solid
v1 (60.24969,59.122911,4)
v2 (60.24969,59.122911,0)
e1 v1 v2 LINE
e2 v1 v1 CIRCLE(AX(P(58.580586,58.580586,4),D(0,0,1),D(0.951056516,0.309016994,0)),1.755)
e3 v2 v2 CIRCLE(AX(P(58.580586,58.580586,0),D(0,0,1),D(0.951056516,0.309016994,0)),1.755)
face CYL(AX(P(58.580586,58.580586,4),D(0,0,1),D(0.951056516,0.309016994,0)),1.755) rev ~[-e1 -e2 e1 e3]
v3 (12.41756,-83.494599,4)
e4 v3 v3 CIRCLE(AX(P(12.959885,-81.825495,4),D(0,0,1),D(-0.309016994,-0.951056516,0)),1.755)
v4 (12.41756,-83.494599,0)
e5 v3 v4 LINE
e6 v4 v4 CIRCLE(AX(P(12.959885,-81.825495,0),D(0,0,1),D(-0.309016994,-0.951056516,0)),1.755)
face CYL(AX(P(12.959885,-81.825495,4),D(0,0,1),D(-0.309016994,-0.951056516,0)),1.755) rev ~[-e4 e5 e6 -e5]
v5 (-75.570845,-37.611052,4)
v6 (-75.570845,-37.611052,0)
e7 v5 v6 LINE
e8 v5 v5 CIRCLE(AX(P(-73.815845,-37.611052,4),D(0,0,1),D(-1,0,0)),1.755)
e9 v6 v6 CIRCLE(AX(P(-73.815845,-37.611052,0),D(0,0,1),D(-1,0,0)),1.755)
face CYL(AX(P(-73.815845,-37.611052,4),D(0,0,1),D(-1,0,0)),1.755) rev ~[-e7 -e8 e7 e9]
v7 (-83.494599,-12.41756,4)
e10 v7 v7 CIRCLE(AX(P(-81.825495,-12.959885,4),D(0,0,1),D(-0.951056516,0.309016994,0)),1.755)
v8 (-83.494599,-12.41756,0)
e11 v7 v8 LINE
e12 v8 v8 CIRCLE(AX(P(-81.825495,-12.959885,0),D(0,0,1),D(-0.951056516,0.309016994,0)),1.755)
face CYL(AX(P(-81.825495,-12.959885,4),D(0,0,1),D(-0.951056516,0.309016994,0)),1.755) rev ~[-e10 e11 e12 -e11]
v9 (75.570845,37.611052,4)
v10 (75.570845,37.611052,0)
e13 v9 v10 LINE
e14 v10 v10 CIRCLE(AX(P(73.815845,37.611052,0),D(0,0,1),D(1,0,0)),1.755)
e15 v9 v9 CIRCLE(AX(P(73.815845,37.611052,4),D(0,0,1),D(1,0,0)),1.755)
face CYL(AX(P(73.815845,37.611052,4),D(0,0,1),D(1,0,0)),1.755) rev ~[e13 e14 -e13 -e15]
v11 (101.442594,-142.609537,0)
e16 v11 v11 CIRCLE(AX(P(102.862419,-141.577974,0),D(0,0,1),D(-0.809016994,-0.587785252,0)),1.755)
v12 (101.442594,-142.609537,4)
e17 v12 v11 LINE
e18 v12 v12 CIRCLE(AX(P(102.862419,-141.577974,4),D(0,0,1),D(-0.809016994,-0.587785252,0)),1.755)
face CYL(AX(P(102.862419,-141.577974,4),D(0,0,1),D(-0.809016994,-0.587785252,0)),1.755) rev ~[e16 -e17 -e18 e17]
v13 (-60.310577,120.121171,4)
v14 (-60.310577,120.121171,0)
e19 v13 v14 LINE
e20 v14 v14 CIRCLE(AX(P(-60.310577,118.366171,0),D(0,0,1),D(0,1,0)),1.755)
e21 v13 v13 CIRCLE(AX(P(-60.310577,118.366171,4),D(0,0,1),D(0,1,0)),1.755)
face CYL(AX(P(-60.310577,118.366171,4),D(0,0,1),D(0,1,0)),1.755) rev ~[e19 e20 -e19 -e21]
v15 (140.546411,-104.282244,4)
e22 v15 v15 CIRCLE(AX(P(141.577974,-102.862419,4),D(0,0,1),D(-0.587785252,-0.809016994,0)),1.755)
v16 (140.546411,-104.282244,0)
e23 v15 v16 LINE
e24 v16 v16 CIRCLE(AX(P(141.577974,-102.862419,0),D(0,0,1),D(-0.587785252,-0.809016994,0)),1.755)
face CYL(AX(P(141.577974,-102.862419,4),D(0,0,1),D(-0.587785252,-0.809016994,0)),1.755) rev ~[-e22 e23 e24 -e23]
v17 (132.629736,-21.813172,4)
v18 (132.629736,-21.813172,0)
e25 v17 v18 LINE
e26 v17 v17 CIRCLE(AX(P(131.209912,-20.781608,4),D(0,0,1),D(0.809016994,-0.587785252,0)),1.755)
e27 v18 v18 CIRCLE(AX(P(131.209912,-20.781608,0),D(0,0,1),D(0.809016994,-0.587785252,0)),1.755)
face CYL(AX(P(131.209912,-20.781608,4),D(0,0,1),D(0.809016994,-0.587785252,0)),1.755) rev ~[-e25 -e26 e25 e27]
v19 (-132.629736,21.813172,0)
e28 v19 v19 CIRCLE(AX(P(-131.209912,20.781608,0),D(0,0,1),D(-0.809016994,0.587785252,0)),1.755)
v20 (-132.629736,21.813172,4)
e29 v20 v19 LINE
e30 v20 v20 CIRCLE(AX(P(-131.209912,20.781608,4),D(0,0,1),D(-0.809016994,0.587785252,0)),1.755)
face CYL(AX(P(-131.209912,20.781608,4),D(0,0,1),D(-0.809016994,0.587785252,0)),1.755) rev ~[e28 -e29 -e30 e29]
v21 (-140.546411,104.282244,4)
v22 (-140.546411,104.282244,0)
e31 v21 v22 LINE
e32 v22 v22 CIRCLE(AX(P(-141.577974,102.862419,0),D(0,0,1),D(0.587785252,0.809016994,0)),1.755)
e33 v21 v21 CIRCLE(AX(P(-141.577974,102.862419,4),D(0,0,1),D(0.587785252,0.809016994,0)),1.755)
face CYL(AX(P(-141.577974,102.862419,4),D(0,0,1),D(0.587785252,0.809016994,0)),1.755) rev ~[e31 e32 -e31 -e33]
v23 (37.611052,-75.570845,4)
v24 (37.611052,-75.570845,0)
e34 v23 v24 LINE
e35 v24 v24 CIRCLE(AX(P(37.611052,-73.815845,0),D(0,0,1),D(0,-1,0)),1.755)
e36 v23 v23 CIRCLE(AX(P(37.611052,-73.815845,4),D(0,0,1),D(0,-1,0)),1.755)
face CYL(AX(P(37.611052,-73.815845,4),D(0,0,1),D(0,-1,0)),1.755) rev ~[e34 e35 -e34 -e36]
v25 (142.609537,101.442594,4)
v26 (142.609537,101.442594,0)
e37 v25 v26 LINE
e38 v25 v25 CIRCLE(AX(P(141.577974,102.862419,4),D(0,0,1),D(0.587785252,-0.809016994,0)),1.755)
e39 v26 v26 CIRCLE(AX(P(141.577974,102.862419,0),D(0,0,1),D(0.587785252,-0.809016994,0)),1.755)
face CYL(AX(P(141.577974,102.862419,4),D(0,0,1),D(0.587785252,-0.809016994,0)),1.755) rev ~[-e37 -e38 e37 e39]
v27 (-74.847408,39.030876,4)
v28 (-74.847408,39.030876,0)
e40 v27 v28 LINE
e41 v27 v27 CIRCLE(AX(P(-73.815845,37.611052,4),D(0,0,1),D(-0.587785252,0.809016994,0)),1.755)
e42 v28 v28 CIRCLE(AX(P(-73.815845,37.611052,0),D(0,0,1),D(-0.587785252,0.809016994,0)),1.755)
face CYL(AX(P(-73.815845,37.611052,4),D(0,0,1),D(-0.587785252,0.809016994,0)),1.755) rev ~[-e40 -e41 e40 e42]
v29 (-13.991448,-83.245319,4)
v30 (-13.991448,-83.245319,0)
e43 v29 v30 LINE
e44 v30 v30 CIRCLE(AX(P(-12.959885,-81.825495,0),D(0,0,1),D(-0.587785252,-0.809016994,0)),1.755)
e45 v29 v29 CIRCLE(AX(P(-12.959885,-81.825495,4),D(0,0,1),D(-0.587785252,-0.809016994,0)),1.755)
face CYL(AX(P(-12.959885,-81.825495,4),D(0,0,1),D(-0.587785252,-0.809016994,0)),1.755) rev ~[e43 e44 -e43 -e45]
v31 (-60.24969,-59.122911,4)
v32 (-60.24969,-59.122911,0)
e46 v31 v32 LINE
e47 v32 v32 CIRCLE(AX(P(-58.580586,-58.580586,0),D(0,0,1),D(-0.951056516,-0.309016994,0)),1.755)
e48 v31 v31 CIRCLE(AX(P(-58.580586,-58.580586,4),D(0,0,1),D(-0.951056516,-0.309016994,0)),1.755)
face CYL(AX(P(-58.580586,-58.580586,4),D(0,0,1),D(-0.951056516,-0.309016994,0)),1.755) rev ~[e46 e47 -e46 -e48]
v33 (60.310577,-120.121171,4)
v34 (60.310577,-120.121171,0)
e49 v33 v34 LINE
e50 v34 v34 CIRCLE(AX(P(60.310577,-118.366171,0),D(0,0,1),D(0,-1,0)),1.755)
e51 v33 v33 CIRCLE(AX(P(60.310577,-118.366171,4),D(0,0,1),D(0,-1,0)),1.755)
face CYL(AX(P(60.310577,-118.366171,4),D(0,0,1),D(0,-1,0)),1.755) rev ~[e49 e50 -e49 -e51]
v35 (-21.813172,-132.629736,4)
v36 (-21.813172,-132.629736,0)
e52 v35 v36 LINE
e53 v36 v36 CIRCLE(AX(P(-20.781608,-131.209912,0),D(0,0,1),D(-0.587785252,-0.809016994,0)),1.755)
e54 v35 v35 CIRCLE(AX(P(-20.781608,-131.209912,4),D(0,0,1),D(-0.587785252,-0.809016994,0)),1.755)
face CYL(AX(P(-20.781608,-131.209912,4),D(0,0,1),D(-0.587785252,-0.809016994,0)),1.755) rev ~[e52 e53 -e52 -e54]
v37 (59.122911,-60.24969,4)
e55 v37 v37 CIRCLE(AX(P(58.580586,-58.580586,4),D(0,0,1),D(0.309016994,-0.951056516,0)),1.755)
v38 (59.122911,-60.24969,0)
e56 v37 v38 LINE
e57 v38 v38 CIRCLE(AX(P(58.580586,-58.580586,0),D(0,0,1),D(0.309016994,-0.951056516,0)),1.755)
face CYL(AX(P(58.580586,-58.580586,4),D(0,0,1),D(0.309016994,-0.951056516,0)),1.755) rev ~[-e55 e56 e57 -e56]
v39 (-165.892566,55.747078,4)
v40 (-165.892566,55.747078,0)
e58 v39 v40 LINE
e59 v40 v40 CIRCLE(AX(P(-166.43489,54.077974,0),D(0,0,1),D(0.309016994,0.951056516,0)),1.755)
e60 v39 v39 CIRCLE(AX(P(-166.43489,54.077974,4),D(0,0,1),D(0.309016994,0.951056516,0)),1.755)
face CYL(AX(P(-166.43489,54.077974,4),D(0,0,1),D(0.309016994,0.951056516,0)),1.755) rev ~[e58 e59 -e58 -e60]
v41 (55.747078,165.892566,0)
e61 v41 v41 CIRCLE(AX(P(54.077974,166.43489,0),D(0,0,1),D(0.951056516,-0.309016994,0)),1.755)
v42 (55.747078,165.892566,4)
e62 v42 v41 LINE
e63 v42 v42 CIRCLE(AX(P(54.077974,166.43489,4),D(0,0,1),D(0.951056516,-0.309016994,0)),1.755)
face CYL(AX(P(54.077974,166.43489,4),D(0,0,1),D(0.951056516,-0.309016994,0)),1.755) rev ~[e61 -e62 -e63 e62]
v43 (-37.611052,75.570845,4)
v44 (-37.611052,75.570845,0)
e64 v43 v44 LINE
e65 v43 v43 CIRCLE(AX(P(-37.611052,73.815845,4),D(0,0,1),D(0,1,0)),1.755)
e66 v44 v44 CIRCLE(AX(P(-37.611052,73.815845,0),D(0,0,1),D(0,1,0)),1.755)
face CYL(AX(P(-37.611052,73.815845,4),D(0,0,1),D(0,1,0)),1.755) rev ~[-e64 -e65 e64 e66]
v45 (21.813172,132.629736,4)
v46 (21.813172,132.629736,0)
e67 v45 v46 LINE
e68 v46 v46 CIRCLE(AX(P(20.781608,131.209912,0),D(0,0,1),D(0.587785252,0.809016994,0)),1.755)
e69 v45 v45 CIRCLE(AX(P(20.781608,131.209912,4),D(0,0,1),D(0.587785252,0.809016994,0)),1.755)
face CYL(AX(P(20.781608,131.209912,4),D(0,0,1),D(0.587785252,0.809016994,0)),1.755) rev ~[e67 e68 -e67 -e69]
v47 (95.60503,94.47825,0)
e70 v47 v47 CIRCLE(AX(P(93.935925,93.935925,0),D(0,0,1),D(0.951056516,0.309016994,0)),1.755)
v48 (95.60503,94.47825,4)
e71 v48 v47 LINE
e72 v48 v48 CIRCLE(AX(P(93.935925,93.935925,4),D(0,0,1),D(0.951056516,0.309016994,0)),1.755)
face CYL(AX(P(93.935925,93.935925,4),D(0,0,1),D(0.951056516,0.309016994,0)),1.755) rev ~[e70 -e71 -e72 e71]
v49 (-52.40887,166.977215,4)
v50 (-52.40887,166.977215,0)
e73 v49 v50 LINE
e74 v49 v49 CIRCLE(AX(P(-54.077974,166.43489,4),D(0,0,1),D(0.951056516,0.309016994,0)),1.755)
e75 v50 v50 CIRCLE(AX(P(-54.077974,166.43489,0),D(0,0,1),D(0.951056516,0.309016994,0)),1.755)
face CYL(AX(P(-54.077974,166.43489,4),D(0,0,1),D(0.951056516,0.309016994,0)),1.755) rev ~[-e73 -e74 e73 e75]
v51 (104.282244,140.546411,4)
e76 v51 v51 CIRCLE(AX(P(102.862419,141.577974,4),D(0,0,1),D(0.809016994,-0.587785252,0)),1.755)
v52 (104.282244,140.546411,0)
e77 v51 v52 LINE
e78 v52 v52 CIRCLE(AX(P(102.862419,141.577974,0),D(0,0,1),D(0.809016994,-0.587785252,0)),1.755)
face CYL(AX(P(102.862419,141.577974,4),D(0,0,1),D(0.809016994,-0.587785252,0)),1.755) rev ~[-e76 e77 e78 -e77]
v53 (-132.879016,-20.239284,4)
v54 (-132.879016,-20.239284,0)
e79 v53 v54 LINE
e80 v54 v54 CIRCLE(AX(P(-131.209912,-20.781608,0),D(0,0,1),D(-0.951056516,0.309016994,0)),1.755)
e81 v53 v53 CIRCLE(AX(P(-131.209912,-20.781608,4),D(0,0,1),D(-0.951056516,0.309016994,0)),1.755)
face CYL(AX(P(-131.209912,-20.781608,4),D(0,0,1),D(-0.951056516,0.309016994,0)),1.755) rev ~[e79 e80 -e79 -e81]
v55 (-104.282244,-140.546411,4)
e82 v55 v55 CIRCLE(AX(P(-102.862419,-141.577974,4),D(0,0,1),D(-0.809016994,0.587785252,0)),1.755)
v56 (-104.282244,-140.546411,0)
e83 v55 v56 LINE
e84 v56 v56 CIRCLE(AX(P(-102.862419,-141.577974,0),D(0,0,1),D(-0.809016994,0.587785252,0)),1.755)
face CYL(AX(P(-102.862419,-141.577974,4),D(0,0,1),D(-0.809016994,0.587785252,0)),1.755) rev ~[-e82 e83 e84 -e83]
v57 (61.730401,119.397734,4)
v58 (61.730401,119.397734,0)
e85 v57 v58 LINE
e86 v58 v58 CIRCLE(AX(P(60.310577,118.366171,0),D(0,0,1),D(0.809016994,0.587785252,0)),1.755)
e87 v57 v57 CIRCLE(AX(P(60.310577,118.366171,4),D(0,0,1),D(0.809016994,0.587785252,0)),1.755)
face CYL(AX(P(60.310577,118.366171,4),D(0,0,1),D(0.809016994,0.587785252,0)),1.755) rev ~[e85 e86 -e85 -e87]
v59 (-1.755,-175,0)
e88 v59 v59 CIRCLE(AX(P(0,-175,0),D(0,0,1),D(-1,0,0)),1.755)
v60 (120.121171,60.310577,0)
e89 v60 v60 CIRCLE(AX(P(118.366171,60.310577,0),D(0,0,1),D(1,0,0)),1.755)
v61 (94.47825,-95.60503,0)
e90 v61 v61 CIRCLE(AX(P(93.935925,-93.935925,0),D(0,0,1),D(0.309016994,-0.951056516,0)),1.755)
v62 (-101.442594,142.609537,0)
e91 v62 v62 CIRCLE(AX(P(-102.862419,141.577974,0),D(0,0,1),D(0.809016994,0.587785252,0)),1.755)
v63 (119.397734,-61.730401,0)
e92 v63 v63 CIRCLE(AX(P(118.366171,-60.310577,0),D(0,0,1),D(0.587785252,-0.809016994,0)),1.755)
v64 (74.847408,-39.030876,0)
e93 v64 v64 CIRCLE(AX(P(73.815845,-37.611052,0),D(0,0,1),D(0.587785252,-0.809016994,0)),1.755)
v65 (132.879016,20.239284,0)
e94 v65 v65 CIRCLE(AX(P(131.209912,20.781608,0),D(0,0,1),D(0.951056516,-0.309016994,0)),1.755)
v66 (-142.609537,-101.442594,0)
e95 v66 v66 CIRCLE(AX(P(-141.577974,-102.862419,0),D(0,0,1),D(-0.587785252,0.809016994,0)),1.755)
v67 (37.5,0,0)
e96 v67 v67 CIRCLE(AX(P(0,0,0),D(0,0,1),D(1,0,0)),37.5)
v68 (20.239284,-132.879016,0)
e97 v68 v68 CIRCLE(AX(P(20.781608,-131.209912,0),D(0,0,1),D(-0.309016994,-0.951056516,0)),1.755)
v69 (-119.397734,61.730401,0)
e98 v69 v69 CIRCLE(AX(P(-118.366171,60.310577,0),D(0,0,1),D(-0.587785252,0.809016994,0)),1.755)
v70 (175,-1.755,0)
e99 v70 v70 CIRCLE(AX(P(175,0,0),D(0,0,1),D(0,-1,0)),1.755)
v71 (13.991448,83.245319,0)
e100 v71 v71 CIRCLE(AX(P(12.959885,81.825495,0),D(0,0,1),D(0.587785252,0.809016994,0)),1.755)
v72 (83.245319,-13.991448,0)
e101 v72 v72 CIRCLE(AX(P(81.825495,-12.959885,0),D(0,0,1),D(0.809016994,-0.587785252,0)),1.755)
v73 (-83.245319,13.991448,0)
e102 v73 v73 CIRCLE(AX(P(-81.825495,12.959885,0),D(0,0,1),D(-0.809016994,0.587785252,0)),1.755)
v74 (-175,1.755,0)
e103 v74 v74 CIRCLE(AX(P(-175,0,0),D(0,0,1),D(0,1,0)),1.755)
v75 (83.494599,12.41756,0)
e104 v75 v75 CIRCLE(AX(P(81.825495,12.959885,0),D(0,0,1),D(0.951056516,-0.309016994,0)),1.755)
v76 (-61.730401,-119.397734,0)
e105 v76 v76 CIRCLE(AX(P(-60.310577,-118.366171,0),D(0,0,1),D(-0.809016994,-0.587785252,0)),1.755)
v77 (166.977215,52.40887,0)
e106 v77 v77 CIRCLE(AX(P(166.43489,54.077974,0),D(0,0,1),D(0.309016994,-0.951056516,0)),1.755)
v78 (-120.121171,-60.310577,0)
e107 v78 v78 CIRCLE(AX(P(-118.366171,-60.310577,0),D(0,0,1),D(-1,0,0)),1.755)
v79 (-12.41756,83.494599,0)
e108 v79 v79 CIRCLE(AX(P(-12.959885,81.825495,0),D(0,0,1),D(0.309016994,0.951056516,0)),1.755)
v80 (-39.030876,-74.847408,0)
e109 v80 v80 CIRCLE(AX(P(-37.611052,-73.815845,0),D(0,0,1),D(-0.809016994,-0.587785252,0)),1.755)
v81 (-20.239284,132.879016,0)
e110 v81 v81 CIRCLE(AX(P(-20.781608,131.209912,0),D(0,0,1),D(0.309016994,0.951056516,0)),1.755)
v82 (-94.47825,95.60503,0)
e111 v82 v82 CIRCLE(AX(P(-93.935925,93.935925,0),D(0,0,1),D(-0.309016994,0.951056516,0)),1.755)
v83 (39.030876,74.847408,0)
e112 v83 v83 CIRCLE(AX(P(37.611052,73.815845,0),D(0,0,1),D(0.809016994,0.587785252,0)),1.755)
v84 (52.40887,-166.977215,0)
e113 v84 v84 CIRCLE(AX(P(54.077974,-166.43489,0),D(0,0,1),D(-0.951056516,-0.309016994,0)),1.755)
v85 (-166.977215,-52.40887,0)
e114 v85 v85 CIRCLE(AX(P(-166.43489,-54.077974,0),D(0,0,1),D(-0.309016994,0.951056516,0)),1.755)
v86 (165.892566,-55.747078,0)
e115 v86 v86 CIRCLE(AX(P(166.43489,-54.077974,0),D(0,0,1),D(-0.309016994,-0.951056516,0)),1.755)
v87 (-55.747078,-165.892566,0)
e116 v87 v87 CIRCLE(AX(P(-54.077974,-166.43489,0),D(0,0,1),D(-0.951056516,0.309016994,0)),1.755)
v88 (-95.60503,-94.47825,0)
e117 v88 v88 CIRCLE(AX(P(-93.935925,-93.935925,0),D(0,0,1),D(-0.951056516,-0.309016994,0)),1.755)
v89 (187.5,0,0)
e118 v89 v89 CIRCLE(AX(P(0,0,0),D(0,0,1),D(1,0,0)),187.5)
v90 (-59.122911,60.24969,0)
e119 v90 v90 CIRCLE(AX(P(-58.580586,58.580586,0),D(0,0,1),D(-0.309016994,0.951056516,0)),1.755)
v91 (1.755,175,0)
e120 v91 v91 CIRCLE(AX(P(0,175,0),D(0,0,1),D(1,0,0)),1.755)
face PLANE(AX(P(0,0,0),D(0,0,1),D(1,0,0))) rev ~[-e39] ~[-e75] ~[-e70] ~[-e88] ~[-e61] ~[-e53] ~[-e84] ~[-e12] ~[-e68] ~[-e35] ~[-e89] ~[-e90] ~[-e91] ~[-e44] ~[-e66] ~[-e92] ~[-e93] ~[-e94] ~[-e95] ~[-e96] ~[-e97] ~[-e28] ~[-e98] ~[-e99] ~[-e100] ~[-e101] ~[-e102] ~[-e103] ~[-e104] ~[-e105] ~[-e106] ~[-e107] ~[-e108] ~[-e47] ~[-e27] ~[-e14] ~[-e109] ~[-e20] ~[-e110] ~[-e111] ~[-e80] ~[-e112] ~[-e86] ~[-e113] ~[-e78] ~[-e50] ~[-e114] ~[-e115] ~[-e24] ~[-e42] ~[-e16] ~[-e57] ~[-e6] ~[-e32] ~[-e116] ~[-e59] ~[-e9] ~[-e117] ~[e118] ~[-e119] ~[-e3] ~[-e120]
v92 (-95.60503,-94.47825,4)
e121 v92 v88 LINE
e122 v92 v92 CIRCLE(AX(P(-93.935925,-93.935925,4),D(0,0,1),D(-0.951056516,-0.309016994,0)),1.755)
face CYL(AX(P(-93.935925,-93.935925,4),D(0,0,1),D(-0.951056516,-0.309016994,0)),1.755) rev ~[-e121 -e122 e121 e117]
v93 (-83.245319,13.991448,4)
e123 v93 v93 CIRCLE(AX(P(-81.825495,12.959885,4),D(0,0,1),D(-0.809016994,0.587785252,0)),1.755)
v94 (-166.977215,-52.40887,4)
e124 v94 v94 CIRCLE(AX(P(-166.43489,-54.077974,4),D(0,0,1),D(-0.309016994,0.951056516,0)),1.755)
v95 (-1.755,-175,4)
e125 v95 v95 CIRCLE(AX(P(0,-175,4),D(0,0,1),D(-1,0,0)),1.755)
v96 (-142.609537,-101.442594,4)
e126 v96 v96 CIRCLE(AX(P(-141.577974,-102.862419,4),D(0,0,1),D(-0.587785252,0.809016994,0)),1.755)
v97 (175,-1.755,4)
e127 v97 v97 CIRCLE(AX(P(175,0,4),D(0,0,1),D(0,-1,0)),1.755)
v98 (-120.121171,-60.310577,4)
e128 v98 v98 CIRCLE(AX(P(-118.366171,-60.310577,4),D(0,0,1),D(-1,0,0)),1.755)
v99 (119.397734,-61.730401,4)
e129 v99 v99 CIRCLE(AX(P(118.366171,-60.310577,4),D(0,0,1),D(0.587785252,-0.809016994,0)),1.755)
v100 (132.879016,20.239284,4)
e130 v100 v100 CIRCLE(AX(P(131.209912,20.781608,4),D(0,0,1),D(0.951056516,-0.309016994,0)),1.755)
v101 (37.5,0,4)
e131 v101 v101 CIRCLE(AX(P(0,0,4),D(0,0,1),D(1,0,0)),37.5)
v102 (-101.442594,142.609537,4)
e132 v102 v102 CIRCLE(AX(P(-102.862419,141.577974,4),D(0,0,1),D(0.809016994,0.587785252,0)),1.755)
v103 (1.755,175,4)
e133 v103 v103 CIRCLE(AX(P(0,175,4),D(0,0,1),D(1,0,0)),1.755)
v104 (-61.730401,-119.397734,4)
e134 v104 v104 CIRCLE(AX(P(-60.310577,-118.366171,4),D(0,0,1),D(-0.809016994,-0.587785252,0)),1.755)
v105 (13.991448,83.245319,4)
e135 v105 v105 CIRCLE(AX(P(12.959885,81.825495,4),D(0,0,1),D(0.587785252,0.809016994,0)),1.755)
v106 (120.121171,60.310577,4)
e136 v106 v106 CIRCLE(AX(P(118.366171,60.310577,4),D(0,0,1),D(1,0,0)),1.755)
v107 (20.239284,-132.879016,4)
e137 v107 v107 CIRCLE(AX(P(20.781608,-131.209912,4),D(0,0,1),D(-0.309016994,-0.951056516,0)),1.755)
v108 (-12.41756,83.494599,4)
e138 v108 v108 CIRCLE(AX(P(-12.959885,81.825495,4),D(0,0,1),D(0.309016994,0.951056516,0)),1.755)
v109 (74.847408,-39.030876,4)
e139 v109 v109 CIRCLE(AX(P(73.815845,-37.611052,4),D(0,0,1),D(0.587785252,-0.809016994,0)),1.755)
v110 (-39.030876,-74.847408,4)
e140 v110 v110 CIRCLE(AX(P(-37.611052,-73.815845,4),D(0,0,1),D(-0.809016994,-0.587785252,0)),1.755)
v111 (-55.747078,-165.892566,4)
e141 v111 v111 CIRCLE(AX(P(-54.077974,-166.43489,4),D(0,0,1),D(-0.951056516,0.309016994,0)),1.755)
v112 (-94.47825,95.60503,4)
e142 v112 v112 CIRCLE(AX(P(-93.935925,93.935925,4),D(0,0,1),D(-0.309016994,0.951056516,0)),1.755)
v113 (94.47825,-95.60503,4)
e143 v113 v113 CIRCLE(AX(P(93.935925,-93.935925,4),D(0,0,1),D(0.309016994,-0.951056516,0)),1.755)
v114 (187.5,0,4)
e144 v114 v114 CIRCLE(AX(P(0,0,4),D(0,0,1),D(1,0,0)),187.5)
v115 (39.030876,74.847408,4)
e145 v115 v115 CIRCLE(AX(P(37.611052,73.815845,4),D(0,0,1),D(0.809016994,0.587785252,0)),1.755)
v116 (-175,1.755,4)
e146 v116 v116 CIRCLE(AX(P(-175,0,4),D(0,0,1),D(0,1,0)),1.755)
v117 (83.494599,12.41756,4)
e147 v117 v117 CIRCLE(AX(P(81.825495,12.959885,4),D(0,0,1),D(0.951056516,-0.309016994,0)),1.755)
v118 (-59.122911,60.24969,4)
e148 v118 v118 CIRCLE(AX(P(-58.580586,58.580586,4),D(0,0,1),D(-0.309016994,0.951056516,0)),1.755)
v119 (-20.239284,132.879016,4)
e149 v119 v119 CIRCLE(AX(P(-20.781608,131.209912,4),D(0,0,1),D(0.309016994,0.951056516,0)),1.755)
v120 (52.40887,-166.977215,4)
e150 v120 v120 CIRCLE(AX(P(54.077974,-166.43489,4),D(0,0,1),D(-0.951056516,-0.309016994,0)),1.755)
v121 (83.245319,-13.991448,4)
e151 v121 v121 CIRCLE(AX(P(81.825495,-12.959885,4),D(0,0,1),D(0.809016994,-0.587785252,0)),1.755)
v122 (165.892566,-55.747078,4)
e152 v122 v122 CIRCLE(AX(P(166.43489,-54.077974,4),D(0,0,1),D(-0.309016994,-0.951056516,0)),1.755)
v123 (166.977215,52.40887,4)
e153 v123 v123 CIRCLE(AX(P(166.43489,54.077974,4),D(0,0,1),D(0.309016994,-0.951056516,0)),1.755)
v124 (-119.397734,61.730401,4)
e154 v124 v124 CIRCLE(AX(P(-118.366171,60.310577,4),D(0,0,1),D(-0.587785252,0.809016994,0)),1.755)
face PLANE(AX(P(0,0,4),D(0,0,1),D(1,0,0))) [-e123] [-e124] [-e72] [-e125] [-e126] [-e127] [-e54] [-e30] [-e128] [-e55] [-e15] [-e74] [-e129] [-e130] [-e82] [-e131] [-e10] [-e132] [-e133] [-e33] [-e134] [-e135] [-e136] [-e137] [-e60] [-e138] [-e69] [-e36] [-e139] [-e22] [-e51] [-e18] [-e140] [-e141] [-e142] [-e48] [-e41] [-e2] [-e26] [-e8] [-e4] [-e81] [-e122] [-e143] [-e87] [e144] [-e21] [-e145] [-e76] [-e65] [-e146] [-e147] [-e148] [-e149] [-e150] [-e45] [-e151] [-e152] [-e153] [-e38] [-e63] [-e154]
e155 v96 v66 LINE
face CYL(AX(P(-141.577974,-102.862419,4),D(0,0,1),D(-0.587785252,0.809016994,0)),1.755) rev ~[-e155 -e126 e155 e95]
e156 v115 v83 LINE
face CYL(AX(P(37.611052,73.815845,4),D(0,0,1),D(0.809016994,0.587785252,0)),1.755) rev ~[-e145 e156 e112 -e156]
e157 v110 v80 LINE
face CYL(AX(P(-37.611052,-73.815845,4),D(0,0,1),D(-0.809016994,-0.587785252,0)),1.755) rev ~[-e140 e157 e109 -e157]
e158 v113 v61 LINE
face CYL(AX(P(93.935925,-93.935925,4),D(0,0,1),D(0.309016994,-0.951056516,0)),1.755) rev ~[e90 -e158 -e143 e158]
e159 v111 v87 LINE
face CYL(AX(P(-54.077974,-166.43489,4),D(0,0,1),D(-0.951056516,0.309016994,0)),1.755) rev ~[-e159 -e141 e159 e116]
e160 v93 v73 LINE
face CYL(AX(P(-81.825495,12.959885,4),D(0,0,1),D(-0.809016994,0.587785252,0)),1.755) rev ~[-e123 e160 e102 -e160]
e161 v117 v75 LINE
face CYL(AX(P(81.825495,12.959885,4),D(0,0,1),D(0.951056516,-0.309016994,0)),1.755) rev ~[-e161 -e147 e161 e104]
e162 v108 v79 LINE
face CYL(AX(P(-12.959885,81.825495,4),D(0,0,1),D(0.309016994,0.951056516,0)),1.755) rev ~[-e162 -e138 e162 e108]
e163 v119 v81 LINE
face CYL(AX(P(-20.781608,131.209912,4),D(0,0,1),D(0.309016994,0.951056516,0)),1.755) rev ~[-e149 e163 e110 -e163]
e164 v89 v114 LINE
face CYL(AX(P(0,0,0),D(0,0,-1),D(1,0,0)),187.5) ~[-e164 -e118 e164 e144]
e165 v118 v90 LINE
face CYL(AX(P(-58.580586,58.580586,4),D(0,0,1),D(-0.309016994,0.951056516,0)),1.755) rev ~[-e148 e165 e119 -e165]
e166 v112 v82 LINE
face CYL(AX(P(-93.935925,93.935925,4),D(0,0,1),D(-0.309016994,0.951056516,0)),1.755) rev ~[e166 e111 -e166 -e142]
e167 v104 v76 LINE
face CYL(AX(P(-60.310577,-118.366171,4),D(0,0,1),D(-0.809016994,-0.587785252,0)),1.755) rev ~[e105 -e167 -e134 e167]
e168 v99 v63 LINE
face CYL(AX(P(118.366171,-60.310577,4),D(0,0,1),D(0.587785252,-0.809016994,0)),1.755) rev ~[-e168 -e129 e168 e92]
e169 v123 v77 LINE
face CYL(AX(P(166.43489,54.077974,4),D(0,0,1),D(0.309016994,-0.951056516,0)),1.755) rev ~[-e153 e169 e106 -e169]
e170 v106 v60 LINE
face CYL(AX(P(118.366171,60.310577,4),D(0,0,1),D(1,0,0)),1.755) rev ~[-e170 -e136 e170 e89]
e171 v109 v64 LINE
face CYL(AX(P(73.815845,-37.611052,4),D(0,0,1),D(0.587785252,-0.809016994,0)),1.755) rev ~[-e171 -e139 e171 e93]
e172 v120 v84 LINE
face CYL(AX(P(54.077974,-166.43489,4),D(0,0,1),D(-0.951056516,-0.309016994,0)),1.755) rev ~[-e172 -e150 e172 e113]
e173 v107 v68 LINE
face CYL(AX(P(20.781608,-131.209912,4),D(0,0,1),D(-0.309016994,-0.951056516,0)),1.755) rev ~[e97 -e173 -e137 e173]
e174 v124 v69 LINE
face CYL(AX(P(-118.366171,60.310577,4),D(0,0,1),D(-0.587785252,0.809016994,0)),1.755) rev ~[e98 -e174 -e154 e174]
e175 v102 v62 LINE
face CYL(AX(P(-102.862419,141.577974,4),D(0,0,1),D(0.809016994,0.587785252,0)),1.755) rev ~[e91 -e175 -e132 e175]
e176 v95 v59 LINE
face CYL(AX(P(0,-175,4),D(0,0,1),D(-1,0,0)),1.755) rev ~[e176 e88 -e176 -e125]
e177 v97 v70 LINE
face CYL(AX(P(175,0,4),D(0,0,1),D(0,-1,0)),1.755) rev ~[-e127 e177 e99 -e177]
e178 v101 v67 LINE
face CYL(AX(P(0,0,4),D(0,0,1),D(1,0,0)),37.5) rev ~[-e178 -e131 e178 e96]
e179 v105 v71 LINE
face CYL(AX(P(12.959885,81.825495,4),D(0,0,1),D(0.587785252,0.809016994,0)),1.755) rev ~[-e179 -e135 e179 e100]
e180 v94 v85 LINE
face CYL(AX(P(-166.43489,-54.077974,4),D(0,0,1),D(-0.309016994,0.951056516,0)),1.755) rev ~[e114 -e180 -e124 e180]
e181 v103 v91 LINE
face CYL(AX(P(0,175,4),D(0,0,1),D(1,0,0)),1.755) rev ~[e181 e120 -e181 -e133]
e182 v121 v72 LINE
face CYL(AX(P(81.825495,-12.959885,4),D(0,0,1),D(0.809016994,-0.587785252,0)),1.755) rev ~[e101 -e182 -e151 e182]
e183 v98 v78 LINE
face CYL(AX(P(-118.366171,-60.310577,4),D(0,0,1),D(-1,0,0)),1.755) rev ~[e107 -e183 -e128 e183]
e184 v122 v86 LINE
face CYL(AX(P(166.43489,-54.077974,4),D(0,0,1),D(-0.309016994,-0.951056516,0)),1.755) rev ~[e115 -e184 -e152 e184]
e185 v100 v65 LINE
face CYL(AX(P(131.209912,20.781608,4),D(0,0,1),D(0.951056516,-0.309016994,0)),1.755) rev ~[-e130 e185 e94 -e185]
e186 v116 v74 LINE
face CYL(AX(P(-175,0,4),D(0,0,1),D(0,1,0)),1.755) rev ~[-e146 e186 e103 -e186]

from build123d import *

# Parameters (mm, degrees)
SKETCH1_R           = 187.5
BOSS_EXTRUDE1_DEPTH = 4
SKETCH2_R           = 37.5
CUT_EXTRUDE1_DEPTH  = 266.195211118
SKETCH3_R           = 1.755
CUT_EXTRUDE2_DEPTH  = 266.195211118
CIRPATTERN1_COUNT   = 20
SKETCH4_R           = 1.755
CUT_EXTRUDE3_DEPTH  = 266.195211118
CIRPATTERN2_COUNT   = 20


with BuildPart() as part:
    # Sketch1 → Boss-Extrude1 (new body)
    with BuildSketch(Plane.XY):
        Circle(SKETCH1_R)
    extrude(amount=BOSS_EXTRUDE1_DEPTH)

    # Sketch2 → Cut-Extrude1 (cut, through all)
    with BuildSketch(Plane.XY.offset(4)):
        Circle(SKETCH2_R)
    extrude(amount=-CUT_EXTRUDE1_DEPTH, mode=Mode.SUBTRACT)

    # Sketch3 → Cut-Extrude2 (cut, through all)
    with BuildSketch(Plane.XY.offset(4)):
        with Locations((0, 175)):
            Circle(SKETCH3_R)
    cut_extrude2 = extrude(amount=-CUT_EXTRUDE2_DEPTH, mode=Mode.SUBTRACT)

    # CirPattern1: Cut-Extrude2 ×20 about axis
    cirpattern1_axis = Axis((0, 0, -0.2), (0, 0, 1))
    for i in range(1, CIRPATTERN1_COUNT):
        add(cut_extrude2.rotate(cirpattern1_axis, i * 360 / CIRPATTERN1_COUNT), mode=Mode.SUBTRACT)

    # Sketch4 → Cut-Extrude3 (cut, through all)
    with BuildSketch(Plane.XY.offset(4)):
        with Locations((73.815845007, 37.611051607)):
            Circle(SKETCH4_R)
        with Locations((118.366171216, 60.310576594)):
            Circle(SKETCH4_R)
    cut_extrude3 = extrude(amount=-CUT_EXTRUDE3_DEPTH, mode=Mode.SUBTRACT)

    # CirPattern2: Cut-Extrude3 ×20 about axis
    cirpattern2_axis = Axis((0, 0, -0.2), (0, 0, 1))
    for i in range(1, CIRPATTERN2_COUNT):
        add(cut_extrude3.rotate(cirpattern2_axis, i * 360 / CIRPATTERN2_COUNT), mode=Mode.SUBTRACT)


solid = part.part
